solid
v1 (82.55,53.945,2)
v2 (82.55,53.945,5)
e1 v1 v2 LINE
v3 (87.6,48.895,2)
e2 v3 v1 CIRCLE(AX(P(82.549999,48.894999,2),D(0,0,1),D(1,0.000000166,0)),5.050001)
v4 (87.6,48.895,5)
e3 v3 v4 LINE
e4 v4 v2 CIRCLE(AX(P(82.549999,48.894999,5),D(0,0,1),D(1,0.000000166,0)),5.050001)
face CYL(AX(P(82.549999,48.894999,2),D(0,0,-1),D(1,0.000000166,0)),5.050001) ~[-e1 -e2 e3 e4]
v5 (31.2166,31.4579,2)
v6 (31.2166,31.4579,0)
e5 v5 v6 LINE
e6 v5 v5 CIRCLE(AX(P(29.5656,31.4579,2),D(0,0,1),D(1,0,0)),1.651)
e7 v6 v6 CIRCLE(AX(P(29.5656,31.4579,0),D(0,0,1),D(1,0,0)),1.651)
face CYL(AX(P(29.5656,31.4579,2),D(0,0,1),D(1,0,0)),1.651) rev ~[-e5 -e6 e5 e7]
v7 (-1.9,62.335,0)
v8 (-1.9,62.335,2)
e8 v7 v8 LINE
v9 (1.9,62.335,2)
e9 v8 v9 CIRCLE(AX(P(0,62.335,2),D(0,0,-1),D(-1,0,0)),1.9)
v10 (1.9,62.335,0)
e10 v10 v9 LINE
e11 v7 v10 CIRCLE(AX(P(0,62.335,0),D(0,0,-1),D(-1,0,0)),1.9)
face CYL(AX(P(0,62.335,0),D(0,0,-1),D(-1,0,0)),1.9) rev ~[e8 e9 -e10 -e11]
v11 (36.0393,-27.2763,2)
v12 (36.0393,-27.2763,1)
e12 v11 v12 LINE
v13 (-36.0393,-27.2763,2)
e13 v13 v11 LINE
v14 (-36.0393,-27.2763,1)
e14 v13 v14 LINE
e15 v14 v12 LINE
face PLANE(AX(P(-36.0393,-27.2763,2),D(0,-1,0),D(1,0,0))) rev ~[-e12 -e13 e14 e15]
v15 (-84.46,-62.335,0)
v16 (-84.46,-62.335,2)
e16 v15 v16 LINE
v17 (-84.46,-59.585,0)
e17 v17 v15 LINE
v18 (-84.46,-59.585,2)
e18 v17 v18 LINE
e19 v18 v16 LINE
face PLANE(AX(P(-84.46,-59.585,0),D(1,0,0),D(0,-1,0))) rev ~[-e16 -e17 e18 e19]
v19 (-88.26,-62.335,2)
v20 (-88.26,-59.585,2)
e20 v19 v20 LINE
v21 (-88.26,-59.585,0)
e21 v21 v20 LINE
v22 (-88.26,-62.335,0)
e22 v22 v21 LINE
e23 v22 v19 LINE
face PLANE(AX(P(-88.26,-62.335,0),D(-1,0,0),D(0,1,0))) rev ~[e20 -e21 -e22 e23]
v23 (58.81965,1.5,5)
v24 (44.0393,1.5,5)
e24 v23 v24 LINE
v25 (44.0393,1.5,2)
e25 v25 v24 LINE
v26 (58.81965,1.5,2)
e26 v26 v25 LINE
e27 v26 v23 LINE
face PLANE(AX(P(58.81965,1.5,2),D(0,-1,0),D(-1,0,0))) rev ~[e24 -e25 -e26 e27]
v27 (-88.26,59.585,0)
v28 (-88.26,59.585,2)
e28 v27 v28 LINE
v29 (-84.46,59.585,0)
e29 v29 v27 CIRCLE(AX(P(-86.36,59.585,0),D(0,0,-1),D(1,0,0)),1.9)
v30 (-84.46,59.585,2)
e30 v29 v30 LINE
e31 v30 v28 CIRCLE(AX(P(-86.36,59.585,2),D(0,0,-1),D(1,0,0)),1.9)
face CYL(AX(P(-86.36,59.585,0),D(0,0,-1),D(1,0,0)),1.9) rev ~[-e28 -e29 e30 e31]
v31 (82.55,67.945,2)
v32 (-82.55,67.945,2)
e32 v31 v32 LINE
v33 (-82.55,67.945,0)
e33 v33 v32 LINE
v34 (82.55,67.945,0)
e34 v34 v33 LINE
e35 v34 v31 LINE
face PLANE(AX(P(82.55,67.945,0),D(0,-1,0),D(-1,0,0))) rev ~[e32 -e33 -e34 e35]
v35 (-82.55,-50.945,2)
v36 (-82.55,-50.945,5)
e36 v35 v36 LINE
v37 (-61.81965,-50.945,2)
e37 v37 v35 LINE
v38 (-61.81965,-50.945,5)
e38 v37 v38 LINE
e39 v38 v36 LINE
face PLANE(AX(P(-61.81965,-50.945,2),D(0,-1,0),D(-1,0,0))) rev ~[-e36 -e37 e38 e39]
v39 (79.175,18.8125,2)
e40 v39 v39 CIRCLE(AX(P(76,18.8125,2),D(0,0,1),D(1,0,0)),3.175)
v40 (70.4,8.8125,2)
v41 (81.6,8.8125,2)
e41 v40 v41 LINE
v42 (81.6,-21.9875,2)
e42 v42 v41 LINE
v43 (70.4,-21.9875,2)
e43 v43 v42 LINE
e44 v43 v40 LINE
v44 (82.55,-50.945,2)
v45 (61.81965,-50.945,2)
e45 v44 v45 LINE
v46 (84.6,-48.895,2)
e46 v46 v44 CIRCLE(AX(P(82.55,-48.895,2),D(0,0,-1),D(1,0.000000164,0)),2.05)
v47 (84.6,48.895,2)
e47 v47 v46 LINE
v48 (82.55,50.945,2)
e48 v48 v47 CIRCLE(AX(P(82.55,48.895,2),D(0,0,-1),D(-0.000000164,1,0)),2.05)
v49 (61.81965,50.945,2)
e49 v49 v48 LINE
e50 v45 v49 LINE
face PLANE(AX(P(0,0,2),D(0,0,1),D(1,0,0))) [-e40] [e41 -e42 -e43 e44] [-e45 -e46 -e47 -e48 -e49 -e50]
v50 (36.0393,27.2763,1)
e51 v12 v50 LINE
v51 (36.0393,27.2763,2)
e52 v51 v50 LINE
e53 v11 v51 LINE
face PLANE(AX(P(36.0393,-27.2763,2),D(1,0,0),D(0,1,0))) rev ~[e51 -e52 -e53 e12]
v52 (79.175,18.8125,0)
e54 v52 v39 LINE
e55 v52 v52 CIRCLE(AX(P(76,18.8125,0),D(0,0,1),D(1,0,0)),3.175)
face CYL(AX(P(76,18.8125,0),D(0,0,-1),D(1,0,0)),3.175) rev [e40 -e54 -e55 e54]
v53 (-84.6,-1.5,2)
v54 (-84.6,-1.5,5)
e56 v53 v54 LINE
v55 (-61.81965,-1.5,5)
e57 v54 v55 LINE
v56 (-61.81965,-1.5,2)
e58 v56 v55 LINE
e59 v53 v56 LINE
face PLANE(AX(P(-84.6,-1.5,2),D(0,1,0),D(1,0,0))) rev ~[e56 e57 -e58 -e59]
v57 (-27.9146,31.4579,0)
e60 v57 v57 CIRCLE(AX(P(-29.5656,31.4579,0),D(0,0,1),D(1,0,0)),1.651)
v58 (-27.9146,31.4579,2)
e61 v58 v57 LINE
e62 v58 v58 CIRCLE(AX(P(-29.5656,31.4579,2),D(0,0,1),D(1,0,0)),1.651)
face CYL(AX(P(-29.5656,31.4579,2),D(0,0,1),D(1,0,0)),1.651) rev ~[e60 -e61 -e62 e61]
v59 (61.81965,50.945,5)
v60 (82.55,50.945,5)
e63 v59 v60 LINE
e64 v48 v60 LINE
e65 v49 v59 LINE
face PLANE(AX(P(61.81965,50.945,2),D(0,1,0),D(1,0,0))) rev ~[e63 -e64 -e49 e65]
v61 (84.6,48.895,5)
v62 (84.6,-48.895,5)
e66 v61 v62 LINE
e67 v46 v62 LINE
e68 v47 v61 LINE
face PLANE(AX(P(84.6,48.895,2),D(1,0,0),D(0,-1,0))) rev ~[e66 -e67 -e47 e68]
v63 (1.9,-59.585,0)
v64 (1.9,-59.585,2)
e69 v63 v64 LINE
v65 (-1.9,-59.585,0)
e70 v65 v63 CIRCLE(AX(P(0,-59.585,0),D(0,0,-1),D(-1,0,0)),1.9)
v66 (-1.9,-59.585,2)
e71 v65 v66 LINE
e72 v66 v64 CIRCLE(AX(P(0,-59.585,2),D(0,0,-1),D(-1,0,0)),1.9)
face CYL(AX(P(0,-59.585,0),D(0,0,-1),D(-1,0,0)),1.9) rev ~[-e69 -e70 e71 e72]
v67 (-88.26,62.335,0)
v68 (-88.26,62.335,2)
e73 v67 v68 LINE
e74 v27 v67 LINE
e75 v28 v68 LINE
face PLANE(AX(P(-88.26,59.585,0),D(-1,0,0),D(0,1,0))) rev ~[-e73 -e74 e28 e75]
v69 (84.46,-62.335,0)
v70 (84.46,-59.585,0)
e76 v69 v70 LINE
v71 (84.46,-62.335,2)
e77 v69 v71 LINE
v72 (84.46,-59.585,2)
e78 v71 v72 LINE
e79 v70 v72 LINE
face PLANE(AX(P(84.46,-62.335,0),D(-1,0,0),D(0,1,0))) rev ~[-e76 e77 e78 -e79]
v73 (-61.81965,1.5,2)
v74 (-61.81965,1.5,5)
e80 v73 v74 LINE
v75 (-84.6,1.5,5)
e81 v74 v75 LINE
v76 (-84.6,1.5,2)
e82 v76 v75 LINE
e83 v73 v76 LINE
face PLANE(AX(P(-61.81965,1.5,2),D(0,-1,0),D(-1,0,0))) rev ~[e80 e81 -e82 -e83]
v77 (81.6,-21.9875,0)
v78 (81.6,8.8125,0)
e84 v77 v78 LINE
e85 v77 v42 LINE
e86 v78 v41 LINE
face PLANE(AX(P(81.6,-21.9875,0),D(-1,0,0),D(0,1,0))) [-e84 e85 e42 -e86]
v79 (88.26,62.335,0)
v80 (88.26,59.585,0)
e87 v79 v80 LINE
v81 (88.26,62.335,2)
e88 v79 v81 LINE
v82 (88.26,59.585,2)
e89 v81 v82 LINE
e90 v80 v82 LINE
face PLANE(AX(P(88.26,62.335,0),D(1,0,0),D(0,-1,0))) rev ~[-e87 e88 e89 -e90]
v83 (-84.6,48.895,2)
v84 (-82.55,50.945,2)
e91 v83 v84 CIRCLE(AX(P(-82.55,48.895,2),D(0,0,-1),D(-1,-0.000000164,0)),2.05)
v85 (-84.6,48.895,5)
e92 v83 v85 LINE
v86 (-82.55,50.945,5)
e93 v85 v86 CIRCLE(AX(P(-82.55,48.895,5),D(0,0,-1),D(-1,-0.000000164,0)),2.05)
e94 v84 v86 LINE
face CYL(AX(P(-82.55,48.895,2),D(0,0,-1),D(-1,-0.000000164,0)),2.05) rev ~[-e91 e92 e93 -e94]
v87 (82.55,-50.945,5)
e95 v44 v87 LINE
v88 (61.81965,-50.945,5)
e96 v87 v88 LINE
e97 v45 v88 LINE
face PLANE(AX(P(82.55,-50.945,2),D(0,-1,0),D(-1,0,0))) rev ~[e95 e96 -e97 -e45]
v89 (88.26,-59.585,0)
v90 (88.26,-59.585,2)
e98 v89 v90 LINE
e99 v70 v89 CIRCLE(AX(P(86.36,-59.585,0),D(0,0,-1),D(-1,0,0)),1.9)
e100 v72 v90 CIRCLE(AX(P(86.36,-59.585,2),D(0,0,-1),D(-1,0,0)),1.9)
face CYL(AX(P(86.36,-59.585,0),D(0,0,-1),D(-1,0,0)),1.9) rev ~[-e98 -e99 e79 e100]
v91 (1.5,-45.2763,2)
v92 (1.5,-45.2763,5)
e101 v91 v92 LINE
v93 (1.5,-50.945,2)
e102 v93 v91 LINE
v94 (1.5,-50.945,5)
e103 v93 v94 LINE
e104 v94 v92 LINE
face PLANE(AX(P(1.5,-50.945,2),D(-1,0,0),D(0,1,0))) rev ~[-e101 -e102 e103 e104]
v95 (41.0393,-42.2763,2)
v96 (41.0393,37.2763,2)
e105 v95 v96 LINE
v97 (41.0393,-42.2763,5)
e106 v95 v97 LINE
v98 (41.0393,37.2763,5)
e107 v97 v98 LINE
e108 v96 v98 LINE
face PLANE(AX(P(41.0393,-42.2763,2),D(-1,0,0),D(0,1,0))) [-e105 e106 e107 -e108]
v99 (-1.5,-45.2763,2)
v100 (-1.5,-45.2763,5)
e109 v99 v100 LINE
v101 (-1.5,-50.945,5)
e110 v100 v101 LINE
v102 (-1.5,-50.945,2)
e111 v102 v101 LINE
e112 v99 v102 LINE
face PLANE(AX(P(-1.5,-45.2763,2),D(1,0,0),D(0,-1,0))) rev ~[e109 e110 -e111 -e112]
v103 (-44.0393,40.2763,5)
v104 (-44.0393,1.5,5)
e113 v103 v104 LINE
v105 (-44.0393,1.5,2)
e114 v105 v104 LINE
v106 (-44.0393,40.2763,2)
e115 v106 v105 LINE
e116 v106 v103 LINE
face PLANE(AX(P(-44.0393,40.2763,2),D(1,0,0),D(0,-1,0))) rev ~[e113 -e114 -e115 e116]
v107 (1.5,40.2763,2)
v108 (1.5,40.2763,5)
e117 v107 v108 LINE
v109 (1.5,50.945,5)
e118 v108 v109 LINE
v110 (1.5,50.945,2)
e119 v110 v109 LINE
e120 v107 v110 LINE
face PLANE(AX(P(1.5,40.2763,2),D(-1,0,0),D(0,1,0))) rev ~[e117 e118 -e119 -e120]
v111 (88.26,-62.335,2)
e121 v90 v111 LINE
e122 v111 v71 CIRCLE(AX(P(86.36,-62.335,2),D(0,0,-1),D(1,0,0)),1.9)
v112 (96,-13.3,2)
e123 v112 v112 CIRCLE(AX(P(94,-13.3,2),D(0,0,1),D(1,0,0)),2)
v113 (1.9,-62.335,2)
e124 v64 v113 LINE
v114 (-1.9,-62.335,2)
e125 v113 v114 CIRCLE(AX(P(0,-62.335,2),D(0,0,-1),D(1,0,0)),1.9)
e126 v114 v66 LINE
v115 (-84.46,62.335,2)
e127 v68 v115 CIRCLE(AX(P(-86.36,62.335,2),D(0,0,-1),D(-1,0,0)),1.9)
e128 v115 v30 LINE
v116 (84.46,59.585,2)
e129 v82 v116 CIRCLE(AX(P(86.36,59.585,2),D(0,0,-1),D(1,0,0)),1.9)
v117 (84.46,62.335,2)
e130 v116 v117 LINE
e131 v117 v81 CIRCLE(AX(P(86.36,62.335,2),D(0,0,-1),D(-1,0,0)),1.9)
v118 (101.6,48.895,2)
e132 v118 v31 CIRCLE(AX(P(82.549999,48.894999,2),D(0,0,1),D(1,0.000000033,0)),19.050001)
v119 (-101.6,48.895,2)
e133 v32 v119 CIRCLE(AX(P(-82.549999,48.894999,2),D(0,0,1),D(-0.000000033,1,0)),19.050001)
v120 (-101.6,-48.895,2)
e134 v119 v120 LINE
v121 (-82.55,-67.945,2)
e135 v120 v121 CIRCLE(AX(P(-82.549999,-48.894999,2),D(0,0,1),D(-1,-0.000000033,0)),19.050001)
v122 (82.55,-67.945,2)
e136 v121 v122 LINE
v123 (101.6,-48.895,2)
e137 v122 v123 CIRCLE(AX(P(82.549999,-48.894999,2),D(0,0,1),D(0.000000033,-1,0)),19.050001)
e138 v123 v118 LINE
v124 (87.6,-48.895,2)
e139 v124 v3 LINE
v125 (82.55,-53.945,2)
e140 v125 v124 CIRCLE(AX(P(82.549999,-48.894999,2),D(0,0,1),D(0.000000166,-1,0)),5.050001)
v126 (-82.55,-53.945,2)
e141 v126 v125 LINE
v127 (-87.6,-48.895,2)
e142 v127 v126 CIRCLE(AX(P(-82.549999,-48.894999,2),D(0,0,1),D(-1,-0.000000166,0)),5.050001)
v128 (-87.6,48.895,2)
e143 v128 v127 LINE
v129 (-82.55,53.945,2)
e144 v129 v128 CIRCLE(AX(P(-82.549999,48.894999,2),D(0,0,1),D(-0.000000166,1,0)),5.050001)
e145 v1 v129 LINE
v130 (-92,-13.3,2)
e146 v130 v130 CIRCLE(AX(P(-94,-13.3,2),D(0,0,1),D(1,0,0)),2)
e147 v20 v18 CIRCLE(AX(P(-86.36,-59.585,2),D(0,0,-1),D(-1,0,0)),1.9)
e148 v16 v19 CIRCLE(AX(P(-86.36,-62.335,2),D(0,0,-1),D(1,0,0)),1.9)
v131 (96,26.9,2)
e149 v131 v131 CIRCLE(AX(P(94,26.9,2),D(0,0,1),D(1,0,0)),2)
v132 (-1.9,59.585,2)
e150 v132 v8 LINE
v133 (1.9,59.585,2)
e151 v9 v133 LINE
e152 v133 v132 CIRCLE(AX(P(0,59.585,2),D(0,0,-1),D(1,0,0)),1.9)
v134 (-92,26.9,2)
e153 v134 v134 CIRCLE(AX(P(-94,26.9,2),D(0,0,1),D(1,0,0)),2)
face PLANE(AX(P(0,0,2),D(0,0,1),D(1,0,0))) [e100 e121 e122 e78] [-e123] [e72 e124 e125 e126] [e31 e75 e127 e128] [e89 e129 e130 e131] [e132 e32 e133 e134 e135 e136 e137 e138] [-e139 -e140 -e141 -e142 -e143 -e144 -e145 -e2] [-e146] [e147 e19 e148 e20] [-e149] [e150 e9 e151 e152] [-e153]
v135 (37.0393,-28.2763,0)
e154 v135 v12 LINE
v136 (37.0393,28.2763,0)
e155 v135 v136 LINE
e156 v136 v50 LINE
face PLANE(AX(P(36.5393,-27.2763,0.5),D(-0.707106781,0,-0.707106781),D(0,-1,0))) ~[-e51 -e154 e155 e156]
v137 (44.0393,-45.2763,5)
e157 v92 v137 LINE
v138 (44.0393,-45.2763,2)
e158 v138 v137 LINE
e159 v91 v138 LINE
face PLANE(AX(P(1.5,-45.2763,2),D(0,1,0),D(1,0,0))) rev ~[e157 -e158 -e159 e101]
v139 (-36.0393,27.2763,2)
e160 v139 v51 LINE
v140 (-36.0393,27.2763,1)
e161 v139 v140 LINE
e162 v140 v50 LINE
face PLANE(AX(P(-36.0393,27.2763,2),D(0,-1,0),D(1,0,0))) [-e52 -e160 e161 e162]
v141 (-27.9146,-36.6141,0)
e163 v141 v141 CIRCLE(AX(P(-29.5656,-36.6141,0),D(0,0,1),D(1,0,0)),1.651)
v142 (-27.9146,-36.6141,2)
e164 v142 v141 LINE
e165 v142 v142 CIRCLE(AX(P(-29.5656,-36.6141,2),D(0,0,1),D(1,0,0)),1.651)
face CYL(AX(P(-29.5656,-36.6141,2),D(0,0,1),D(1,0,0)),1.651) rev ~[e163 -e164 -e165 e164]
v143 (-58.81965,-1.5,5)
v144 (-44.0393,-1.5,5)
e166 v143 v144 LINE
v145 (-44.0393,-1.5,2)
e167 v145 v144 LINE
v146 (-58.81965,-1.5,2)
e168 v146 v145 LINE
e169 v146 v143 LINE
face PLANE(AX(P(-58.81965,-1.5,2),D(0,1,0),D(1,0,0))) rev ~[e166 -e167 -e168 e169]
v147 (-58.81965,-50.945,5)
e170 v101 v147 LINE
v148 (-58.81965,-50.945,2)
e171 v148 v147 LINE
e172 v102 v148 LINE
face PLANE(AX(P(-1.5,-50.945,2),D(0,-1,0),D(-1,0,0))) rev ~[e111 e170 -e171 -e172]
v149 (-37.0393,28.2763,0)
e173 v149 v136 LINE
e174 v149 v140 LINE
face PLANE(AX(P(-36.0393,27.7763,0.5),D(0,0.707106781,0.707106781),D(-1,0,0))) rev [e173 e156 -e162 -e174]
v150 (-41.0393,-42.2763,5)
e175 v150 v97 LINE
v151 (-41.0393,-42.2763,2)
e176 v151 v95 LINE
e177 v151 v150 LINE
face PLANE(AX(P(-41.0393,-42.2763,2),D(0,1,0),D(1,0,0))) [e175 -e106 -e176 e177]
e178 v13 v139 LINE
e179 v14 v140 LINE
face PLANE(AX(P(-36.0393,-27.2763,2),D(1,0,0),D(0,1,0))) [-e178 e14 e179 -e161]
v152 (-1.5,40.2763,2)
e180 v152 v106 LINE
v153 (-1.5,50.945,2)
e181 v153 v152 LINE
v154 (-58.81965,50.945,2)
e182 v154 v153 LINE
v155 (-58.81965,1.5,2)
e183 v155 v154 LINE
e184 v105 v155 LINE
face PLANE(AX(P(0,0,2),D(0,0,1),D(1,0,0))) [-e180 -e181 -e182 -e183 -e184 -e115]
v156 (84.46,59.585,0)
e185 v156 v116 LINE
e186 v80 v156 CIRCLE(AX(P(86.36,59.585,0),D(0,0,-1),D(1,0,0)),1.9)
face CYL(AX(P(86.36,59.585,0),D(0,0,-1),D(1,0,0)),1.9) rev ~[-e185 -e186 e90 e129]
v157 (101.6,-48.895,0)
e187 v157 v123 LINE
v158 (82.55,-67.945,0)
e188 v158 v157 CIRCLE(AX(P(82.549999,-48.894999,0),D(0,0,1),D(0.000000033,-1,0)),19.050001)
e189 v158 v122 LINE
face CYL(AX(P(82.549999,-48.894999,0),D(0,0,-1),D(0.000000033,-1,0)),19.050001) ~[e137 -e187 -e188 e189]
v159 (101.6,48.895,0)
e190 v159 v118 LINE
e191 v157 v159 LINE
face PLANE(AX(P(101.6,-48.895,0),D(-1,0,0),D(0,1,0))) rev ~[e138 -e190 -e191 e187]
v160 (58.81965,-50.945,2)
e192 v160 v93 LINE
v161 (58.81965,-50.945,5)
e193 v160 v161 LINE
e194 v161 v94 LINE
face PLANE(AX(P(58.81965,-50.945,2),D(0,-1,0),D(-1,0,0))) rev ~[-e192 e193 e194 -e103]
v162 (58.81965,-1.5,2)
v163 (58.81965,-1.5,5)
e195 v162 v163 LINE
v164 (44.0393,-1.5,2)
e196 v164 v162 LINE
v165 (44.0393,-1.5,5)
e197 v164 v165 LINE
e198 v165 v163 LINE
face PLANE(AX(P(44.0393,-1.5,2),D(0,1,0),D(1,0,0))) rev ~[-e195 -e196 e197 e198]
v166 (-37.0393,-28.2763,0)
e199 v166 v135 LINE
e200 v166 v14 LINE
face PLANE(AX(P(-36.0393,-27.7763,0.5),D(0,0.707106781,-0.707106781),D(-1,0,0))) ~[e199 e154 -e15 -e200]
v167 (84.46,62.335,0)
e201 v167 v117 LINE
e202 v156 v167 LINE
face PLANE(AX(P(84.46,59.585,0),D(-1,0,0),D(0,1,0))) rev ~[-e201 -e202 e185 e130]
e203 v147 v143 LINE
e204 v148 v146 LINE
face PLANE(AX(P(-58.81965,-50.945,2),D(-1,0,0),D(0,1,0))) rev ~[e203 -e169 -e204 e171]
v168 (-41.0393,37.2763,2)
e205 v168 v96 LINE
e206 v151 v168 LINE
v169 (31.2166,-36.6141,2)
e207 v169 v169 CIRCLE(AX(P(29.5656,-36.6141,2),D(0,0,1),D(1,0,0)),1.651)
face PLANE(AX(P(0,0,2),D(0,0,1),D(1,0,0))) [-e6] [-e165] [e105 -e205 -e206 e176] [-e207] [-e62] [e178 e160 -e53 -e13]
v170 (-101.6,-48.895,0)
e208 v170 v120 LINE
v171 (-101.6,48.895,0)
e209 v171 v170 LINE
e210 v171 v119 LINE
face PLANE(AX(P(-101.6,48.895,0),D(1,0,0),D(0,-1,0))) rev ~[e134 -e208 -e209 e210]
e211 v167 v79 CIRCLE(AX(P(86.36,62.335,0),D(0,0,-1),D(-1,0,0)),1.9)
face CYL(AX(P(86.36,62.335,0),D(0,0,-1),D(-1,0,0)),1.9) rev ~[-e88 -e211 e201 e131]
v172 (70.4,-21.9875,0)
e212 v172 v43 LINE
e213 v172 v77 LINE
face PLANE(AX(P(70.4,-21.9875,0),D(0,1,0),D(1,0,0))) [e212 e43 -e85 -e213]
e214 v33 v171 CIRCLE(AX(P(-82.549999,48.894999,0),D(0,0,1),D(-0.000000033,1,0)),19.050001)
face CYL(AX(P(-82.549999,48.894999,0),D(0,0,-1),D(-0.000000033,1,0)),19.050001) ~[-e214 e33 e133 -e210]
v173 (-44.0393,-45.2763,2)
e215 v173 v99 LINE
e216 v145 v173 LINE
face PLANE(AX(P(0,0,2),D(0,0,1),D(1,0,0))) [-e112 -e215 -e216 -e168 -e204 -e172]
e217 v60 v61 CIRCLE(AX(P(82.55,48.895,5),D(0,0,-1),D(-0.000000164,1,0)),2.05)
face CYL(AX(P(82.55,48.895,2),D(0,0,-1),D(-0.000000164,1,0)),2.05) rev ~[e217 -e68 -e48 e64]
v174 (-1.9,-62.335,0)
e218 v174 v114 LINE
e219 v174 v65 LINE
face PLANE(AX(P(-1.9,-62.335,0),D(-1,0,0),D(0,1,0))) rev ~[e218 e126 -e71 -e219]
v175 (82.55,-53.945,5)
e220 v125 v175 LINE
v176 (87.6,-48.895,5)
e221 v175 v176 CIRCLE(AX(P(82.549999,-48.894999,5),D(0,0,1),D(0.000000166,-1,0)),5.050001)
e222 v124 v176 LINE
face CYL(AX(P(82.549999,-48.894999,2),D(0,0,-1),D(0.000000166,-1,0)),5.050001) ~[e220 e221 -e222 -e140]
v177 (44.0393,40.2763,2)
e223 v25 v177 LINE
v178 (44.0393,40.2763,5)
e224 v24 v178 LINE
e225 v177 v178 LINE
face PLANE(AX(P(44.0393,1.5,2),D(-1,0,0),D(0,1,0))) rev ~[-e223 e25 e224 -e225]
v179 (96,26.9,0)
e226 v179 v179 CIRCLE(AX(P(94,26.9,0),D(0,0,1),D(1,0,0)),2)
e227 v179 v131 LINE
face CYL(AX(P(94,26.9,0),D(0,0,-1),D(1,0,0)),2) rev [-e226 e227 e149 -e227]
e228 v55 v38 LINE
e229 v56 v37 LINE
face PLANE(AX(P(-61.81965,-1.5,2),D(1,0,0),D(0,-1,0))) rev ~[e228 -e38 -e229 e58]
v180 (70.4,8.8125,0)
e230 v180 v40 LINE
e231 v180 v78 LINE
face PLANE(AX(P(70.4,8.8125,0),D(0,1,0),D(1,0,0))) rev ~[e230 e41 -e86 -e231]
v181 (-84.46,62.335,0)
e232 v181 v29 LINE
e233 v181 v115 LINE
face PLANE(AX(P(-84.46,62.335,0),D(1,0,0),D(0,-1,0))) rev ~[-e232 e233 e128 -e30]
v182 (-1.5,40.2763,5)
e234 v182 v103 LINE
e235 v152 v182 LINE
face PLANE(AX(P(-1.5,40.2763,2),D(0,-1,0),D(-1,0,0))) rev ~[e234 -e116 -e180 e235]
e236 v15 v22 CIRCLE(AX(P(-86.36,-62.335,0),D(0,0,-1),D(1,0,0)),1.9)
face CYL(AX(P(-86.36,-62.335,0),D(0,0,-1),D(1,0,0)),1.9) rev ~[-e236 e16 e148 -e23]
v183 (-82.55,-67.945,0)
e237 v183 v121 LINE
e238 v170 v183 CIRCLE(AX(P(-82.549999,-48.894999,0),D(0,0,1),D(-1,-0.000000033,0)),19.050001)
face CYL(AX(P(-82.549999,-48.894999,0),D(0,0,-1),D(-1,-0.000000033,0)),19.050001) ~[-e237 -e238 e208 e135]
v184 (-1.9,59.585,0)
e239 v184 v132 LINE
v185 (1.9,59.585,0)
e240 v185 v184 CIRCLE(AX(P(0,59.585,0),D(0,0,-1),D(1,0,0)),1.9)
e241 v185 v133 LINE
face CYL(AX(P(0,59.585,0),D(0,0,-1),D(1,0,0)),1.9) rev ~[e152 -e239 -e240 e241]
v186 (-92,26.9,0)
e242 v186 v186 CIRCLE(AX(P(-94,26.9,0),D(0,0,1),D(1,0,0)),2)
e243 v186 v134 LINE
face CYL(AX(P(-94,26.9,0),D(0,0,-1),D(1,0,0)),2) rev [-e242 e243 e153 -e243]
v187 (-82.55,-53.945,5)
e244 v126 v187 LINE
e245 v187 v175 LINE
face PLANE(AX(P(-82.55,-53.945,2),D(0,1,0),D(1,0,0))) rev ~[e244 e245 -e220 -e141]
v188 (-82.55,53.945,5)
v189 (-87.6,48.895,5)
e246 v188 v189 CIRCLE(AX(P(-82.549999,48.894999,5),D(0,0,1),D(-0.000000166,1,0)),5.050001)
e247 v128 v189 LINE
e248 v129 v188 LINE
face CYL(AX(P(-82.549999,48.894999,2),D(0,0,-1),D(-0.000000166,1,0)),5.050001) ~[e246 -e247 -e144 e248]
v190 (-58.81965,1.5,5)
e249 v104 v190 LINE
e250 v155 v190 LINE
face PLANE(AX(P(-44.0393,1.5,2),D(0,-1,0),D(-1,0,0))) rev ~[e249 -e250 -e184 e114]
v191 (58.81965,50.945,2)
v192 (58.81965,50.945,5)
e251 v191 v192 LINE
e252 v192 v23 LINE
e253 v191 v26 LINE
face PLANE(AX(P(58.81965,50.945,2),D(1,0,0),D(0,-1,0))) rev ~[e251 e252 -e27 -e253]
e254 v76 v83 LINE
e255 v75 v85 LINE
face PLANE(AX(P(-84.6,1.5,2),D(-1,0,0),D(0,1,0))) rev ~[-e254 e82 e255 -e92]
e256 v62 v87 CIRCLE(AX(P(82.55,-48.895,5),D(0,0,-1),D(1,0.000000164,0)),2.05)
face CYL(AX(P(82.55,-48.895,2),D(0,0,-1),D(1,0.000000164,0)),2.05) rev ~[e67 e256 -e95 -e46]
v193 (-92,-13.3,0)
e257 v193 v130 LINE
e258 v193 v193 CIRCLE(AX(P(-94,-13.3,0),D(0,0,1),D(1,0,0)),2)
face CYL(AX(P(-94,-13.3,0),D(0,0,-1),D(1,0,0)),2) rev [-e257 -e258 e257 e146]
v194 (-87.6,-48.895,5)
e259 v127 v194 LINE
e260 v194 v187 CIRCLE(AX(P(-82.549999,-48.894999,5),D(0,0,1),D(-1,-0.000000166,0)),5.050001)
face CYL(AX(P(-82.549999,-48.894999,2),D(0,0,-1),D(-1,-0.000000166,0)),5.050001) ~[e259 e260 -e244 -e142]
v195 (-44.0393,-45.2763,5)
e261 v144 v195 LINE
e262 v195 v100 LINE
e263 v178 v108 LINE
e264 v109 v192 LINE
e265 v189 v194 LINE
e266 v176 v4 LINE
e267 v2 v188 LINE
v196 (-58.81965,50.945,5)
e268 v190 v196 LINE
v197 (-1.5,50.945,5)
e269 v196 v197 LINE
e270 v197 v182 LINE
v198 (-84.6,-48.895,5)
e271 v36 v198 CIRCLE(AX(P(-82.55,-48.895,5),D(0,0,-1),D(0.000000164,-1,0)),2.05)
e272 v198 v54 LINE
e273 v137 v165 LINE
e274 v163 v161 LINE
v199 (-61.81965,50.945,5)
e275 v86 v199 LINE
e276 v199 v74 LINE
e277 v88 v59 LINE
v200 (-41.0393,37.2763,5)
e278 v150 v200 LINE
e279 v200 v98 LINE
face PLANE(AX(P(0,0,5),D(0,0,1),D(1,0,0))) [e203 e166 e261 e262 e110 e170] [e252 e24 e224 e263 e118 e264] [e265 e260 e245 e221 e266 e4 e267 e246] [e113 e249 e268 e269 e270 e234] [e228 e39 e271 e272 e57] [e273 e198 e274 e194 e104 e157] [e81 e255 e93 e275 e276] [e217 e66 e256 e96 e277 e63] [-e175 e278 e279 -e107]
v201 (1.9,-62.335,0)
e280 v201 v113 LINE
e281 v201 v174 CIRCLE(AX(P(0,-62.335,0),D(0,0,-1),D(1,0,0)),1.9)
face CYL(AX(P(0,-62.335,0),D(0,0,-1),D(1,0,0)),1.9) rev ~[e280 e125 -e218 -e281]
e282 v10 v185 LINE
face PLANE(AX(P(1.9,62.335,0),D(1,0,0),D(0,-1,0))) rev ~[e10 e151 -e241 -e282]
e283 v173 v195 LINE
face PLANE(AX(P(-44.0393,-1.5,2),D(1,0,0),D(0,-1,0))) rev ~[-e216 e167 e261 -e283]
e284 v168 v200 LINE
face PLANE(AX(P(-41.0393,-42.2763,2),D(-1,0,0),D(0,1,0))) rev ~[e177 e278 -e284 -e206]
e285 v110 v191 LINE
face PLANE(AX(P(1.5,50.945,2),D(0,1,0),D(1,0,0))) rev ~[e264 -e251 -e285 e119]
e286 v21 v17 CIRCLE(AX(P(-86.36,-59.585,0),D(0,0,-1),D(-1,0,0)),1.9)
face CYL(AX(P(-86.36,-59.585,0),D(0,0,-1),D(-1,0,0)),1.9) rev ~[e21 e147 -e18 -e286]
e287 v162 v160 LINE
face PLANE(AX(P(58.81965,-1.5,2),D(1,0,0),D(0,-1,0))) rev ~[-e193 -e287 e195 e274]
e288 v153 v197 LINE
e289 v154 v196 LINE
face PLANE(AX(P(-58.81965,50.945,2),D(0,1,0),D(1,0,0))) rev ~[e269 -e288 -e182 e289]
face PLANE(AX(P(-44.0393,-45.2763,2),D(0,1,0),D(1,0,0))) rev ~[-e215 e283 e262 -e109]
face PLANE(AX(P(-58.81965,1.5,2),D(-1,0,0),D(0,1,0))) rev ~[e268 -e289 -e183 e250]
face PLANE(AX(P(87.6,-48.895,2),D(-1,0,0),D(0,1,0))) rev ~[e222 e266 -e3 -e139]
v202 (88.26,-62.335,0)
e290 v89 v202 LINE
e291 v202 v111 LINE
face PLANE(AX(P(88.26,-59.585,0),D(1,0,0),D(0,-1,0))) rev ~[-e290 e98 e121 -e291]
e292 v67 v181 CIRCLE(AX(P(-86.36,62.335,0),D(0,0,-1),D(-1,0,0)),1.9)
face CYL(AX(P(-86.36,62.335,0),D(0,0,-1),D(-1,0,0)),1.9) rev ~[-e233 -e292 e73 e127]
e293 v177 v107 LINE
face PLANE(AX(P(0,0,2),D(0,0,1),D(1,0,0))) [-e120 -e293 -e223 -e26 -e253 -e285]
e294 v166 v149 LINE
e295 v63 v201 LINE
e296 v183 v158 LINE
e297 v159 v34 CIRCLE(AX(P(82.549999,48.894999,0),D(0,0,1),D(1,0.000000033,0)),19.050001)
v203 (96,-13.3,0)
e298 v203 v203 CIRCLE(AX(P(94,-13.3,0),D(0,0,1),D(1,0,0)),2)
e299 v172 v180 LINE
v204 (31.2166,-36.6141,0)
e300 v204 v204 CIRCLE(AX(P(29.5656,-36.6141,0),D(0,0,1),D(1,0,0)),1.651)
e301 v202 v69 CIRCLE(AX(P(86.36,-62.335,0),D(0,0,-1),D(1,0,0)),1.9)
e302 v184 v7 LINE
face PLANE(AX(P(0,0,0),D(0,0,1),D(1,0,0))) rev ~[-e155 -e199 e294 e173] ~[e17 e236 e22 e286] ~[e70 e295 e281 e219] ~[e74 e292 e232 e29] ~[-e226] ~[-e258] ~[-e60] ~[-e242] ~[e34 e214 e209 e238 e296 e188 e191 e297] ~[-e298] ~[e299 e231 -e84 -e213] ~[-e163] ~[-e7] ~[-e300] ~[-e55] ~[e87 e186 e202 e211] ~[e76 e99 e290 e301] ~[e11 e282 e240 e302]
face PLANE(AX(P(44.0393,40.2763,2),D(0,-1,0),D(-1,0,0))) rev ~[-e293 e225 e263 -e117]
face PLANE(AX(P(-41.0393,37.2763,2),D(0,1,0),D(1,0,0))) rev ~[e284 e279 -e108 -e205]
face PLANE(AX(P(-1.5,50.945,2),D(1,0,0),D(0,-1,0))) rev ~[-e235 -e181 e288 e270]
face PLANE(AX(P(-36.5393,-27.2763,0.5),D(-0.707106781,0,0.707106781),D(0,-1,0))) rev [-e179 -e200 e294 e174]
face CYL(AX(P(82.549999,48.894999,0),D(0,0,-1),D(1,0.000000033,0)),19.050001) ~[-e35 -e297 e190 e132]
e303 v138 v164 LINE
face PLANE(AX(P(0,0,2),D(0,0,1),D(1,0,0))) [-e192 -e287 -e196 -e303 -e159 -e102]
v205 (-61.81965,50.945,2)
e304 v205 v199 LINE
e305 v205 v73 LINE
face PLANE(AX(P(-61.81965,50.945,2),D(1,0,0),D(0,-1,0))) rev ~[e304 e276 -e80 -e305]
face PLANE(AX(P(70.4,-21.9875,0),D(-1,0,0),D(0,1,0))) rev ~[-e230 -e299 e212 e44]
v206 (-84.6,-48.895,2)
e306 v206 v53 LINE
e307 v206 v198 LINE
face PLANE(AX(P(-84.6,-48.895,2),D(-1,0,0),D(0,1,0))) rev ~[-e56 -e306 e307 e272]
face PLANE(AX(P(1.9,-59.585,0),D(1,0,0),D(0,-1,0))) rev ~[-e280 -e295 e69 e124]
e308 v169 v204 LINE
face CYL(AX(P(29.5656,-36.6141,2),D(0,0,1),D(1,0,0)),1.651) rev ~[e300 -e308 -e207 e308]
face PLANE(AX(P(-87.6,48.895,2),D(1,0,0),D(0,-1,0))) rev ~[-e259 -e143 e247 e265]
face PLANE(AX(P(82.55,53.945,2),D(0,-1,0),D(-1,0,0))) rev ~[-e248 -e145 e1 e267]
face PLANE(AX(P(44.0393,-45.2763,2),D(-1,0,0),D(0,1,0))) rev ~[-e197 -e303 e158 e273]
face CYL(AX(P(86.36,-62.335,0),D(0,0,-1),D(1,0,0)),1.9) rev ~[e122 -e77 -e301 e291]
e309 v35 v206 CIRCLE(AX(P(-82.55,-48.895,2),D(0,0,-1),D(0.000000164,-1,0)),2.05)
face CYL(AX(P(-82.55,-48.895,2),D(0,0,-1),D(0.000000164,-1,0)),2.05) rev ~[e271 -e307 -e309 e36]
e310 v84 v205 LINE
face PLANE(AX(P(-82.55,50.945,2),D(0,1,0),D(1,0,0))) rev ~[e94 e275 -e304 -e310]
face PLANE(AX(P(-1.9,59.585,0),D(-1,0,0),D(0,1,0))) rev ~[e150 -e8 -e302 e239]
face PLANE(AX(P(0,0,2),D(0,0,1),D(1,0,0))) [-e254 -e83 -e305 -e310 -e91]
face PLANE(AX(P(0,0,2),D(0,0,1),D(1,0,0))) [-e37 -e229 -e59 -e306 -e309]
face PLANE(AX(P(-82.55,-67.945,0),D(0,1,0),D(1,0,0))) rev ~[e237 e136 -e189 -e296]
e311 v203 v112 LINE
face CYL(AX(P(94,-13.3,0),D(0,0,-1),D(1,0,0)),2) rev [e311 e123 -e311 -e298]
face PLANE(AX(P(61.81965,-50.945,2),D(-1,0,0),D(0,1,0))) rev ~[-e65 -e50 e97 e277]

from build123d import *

# Parameters (mm, degrees)
F0_R     = 2
F0_W     = 11.2
F0_H     = 30.8
F0_R_2   = 3.175
F1_DEPTH = 2
F2_W     = 72.0786
F2_H     = 54.5526
F2_R     = 1.651
F3_DEPTH = 2.001
F4_SIZE  = 1
F5_W     = 82.0786
F5_H     = 79.5526
F6_DEPTH = 3


with BuildPart() as f1:
    # F0 (on Top) → F1 (new body)
    with BuildSketch(Plane.XY):
        with BuildLine():
            Line((-82.55, -67.945), (82.55, -67.945))
            ThreePointArc((82.55, -67.945), (96.020384, -62.365384), (101.6, -48.895))
            Line((101.6, -48.895), (101.6, 48.895))
            ThreePointArc((101.6, 48.895), (96.020384, 62.365384), (82.55, 67.945))
            Line((82.55, 67.945), (-82.55, 67.945))
            ThreePointArc((-82.55, 67.945), (-96.020384, 62.365384), (-101.6, 48.895))
            Line((-101.6, 48.895), (-101.6, -48.895))
            ThreePointArc((-101.6, -48.895), (-96.020384, -62.365384), (-82.55, -67.945))
        make_face()
        with BuildLine():
            Line((-84.46, -59.585), (-84.46, -62.335))
            ThreePointArc((-84.46, -62.335), (-86.36, -64.235), (-88.26, -62.335))
            Line((-88.26, -62.335), (-88.26, -59.585))
            ThreePointArc((-88.26, -59.585), (-86.36, -57.685), (-84.46, -59.585))
        make_face(mode=Mode.SUBTRACT)
        with BuildLine():
            Line((1.9, -59.585), (1.9, -62.335))
            ThreePointArc((1.9, -62.335), (0, -64.235), (-1.9, -62.335))
            Line((-1.9, -62.335), (-1.9, -59.585))
            ThreePointArc((-1.9, -59.585), (0, -57.685), (1.9, -59.585))
        make_face(mode=Mode.SUBTRACT)
        with Locations((-94, -13.3)):
            Circle(F0_R, mode=Mode.SUBTRACT)
        with BuildLine():
            Line((88.26, -59.585), (88.26, -62.335))
            ThreePointArc((88.26, -62.335), (86.36, -64.235), (84.46, -62.335))
            Line((84.46, -62.335), (84.46, -59.585))
            ThreePointArc((84.46, -59.585), (86.36, -57.685), (88.26, -59.585))
        make_face(mode=Mode.SUBTRACT)
        with Locations((76, -6.5875)):
            Rectangle(F0_W, F0_H, mode=Mode.SUBTRACT)
        with Locations((94, -13.3)):
            Circle(F0_R, mode=Mode.SUBTRACT)
        with Locations((-94, 26.9)):
            Circle(F0_R, mode=Mode.SUBTRACT)
        with BuildLine():
            Line((-84.46, 62.335), (-84.46, 59.585))
            ThreePointArc((-84.46, 59.585), (-86.36, 57.685), (-88.26, 59.585))
            Line((-88.26, 59.585), (-88.26, 62.335))
            ThreePointArc((-88.26, 62.335), (-86.36, 64.235), (-84.46, 62.335))
        make_face(mode=Mode.SUBTRACT)
        with BuildLine():
            Line((1.9, 62.335), (1.9, 59.585))
            ThreePointArc((1.9, 59.585), (0, 57.685), (-1.9, 59.585))
            Line((-1.9, 59.585), (-1.9, 62.335))
            ThreePointArc((-1.9, 62.335), (0, 64.235), (1.9, 62.335))
        make_face(mode=Mode.SUBTRACT)
        with Locations((76, 18.8125)):
            Circle(F0_R_2, mode=Mode.SUBTRACT)
        with Locations((94, 26.9)):
            Circle(F0_R, mode=Mode.SUBTRACT)
        with BuildLine():
            Line((88.26, 62.335), (88.26, 59.585))
            ThreePointArc((88.26, 59.585), (86.36, 57.685), (84.46, 59.585))
            Line((84.46, 59.585), (84.46, 62.335))
            ThreePointArc((84.46, 62.335), (86.36, 64.235), (88.26, 62.335))
        make_face(mode=Mode.SUBTRACT)
    extrude(amount=F1_DEPTH)

    # F2 (on face) → F3 (cut, through all)
    with BuildSketch(Plane.XY.offset(2)):
        Rectangle(F2_W, F2_H)
        with Locations((-29.5656, 31.4579)):
            Circle(F2_R)
        with Locations((29.5656, 31.4579)):
            Circle(F2_R)
        with Locations((29.5656, -36.6141)):
            Circle(F2_R)
        with Locations((-29.5656, -36.6141)):
            Circle(F2_R)
    extrude(amount=-F3_DEPTH, mode=Mode.SUBTRACT)

    # F4
    f4_edges = [f1.edges().sort_by_distance(p)[0] for p in [
        (0, 27.2763, 0),
        (36.0393, 0, 0),
        (-36.0393, 0, 0),
        (0, -27.2763, 0),
    ]]
    chamfer(f4_edges, length=F4_SIZE)

    # F5 (on face) → F6 (join)
    with BuildSketch(Plane.XY.offset(2)):
        with BuildLine():
            Line((87.6, -48.895), (87.6, 48.895))
            ThreePointArc((87.6, 48.895), (86.120889, 52.465889), (82.55, 53.945))
            Line((82.55, 53.945), (-82.55, 53.945))
            ThreePointArc((-82.55, 53.945), (-86.120889, 52.465889), (-87.6, 48.895))
            Line((-87.6, 48.895), (-87.6, -48.895))
            ThreePointArc((-87.6, -48.895), (-86.120889, -52.465889), (-82.55, -53.945))
            Line((-82.55, -53.945), (82.55, -53.945))
            ThreePointArc((82.55, -53.945), (86.120889, -52.465889), (87.6, -48.895))
        make_face()
        with BuildLine():
            ThreePointArc((-82.55, -50.945), (-83.999569, -50.344569), (-84.6, -48.895))
            Line((-84.6, -48.895), (-84.6, -1.5))
            Line((-84.6, -1.5), (-61.81965, -1.5))
            Line((-61.81965, -1.5), (-61.81965, -50.945))
            Line((-61.81965, -50.945), (-82.55, -50.945))
        make_face(mode=Mode.SUBTRACT)
        Polygon((-44.0393, -1.5), (-44.0393, -45.2763), (-1.5, -45.2763), (-1.5, -50.945), (-58.81965, -50.945), (-58.81965, -1.5), align=None, mode=Mode.SUBTRACT)
        Polygon((58.81965, -1.5), (58.81965, -50.945), (1.5, -50.945), (1.5, -45.2763), (44.0393, -45.2763), (44.0393, -1.5), align=None, mode=Mode.SUBTRACT)
        with Locations((0, -2.5)):
            Rectangle(F5_W, F5_H, mode=Mode.SUBTRACT)
        with BuildLine():
            ThreePointArc((-84.6, 48.895), (-83.999569, 50.344569), (-82.55, 50.945))
            Line((-82.55, 50.945), (-61.81965, 50.945))
            Line((-61.81965, 50.945), (-61.81965, 1.5))
            Line((-61.81965, 1.5), (-84.6, 1.5))
            Line((-84.6, 1.5), (-84.6, 48.895))
        make_face(mode=Mode.SUBTRACT)
        Polygon((-58.81965, 1.5), (-58.81965, 50.945), (-1.5, 50.945), (-1.5, 40.2763), (-44.0393, 40.2763), (-44.0393, 1.5), align=None, mode=Mode.SUBTRACT)
        Polygon((1.5, 50.945), (58.81965, 50.945), (58.81965, 1.5), (44.0393, 1.5), (44.0393, 40.2763), (1.5, 40.2763), align=None, mode=Mode.SUBTRACT)
        with BuildLine():
            ThreePointArc((82.55, 50.945), (83.999569, 50.344569), (84.6, 48.895))
            Line((84.6, 48.895), (84.6, -48.895))
            ThreePointArc((84.6, -48.895), (83.999569, -50.344569), (82.55, -50.945))
            Line((82.55, -50.945), (61.81965, -50.945))
            Line((61.81965, -50.945), (61.81965, 50.945))
            Line((61.81965, 50.945), (82.55, 50.945))
        make_face(mode=Mode.SUBTRACT)
    extrude(amount=F6_DEPTH)


solid = f1.part
